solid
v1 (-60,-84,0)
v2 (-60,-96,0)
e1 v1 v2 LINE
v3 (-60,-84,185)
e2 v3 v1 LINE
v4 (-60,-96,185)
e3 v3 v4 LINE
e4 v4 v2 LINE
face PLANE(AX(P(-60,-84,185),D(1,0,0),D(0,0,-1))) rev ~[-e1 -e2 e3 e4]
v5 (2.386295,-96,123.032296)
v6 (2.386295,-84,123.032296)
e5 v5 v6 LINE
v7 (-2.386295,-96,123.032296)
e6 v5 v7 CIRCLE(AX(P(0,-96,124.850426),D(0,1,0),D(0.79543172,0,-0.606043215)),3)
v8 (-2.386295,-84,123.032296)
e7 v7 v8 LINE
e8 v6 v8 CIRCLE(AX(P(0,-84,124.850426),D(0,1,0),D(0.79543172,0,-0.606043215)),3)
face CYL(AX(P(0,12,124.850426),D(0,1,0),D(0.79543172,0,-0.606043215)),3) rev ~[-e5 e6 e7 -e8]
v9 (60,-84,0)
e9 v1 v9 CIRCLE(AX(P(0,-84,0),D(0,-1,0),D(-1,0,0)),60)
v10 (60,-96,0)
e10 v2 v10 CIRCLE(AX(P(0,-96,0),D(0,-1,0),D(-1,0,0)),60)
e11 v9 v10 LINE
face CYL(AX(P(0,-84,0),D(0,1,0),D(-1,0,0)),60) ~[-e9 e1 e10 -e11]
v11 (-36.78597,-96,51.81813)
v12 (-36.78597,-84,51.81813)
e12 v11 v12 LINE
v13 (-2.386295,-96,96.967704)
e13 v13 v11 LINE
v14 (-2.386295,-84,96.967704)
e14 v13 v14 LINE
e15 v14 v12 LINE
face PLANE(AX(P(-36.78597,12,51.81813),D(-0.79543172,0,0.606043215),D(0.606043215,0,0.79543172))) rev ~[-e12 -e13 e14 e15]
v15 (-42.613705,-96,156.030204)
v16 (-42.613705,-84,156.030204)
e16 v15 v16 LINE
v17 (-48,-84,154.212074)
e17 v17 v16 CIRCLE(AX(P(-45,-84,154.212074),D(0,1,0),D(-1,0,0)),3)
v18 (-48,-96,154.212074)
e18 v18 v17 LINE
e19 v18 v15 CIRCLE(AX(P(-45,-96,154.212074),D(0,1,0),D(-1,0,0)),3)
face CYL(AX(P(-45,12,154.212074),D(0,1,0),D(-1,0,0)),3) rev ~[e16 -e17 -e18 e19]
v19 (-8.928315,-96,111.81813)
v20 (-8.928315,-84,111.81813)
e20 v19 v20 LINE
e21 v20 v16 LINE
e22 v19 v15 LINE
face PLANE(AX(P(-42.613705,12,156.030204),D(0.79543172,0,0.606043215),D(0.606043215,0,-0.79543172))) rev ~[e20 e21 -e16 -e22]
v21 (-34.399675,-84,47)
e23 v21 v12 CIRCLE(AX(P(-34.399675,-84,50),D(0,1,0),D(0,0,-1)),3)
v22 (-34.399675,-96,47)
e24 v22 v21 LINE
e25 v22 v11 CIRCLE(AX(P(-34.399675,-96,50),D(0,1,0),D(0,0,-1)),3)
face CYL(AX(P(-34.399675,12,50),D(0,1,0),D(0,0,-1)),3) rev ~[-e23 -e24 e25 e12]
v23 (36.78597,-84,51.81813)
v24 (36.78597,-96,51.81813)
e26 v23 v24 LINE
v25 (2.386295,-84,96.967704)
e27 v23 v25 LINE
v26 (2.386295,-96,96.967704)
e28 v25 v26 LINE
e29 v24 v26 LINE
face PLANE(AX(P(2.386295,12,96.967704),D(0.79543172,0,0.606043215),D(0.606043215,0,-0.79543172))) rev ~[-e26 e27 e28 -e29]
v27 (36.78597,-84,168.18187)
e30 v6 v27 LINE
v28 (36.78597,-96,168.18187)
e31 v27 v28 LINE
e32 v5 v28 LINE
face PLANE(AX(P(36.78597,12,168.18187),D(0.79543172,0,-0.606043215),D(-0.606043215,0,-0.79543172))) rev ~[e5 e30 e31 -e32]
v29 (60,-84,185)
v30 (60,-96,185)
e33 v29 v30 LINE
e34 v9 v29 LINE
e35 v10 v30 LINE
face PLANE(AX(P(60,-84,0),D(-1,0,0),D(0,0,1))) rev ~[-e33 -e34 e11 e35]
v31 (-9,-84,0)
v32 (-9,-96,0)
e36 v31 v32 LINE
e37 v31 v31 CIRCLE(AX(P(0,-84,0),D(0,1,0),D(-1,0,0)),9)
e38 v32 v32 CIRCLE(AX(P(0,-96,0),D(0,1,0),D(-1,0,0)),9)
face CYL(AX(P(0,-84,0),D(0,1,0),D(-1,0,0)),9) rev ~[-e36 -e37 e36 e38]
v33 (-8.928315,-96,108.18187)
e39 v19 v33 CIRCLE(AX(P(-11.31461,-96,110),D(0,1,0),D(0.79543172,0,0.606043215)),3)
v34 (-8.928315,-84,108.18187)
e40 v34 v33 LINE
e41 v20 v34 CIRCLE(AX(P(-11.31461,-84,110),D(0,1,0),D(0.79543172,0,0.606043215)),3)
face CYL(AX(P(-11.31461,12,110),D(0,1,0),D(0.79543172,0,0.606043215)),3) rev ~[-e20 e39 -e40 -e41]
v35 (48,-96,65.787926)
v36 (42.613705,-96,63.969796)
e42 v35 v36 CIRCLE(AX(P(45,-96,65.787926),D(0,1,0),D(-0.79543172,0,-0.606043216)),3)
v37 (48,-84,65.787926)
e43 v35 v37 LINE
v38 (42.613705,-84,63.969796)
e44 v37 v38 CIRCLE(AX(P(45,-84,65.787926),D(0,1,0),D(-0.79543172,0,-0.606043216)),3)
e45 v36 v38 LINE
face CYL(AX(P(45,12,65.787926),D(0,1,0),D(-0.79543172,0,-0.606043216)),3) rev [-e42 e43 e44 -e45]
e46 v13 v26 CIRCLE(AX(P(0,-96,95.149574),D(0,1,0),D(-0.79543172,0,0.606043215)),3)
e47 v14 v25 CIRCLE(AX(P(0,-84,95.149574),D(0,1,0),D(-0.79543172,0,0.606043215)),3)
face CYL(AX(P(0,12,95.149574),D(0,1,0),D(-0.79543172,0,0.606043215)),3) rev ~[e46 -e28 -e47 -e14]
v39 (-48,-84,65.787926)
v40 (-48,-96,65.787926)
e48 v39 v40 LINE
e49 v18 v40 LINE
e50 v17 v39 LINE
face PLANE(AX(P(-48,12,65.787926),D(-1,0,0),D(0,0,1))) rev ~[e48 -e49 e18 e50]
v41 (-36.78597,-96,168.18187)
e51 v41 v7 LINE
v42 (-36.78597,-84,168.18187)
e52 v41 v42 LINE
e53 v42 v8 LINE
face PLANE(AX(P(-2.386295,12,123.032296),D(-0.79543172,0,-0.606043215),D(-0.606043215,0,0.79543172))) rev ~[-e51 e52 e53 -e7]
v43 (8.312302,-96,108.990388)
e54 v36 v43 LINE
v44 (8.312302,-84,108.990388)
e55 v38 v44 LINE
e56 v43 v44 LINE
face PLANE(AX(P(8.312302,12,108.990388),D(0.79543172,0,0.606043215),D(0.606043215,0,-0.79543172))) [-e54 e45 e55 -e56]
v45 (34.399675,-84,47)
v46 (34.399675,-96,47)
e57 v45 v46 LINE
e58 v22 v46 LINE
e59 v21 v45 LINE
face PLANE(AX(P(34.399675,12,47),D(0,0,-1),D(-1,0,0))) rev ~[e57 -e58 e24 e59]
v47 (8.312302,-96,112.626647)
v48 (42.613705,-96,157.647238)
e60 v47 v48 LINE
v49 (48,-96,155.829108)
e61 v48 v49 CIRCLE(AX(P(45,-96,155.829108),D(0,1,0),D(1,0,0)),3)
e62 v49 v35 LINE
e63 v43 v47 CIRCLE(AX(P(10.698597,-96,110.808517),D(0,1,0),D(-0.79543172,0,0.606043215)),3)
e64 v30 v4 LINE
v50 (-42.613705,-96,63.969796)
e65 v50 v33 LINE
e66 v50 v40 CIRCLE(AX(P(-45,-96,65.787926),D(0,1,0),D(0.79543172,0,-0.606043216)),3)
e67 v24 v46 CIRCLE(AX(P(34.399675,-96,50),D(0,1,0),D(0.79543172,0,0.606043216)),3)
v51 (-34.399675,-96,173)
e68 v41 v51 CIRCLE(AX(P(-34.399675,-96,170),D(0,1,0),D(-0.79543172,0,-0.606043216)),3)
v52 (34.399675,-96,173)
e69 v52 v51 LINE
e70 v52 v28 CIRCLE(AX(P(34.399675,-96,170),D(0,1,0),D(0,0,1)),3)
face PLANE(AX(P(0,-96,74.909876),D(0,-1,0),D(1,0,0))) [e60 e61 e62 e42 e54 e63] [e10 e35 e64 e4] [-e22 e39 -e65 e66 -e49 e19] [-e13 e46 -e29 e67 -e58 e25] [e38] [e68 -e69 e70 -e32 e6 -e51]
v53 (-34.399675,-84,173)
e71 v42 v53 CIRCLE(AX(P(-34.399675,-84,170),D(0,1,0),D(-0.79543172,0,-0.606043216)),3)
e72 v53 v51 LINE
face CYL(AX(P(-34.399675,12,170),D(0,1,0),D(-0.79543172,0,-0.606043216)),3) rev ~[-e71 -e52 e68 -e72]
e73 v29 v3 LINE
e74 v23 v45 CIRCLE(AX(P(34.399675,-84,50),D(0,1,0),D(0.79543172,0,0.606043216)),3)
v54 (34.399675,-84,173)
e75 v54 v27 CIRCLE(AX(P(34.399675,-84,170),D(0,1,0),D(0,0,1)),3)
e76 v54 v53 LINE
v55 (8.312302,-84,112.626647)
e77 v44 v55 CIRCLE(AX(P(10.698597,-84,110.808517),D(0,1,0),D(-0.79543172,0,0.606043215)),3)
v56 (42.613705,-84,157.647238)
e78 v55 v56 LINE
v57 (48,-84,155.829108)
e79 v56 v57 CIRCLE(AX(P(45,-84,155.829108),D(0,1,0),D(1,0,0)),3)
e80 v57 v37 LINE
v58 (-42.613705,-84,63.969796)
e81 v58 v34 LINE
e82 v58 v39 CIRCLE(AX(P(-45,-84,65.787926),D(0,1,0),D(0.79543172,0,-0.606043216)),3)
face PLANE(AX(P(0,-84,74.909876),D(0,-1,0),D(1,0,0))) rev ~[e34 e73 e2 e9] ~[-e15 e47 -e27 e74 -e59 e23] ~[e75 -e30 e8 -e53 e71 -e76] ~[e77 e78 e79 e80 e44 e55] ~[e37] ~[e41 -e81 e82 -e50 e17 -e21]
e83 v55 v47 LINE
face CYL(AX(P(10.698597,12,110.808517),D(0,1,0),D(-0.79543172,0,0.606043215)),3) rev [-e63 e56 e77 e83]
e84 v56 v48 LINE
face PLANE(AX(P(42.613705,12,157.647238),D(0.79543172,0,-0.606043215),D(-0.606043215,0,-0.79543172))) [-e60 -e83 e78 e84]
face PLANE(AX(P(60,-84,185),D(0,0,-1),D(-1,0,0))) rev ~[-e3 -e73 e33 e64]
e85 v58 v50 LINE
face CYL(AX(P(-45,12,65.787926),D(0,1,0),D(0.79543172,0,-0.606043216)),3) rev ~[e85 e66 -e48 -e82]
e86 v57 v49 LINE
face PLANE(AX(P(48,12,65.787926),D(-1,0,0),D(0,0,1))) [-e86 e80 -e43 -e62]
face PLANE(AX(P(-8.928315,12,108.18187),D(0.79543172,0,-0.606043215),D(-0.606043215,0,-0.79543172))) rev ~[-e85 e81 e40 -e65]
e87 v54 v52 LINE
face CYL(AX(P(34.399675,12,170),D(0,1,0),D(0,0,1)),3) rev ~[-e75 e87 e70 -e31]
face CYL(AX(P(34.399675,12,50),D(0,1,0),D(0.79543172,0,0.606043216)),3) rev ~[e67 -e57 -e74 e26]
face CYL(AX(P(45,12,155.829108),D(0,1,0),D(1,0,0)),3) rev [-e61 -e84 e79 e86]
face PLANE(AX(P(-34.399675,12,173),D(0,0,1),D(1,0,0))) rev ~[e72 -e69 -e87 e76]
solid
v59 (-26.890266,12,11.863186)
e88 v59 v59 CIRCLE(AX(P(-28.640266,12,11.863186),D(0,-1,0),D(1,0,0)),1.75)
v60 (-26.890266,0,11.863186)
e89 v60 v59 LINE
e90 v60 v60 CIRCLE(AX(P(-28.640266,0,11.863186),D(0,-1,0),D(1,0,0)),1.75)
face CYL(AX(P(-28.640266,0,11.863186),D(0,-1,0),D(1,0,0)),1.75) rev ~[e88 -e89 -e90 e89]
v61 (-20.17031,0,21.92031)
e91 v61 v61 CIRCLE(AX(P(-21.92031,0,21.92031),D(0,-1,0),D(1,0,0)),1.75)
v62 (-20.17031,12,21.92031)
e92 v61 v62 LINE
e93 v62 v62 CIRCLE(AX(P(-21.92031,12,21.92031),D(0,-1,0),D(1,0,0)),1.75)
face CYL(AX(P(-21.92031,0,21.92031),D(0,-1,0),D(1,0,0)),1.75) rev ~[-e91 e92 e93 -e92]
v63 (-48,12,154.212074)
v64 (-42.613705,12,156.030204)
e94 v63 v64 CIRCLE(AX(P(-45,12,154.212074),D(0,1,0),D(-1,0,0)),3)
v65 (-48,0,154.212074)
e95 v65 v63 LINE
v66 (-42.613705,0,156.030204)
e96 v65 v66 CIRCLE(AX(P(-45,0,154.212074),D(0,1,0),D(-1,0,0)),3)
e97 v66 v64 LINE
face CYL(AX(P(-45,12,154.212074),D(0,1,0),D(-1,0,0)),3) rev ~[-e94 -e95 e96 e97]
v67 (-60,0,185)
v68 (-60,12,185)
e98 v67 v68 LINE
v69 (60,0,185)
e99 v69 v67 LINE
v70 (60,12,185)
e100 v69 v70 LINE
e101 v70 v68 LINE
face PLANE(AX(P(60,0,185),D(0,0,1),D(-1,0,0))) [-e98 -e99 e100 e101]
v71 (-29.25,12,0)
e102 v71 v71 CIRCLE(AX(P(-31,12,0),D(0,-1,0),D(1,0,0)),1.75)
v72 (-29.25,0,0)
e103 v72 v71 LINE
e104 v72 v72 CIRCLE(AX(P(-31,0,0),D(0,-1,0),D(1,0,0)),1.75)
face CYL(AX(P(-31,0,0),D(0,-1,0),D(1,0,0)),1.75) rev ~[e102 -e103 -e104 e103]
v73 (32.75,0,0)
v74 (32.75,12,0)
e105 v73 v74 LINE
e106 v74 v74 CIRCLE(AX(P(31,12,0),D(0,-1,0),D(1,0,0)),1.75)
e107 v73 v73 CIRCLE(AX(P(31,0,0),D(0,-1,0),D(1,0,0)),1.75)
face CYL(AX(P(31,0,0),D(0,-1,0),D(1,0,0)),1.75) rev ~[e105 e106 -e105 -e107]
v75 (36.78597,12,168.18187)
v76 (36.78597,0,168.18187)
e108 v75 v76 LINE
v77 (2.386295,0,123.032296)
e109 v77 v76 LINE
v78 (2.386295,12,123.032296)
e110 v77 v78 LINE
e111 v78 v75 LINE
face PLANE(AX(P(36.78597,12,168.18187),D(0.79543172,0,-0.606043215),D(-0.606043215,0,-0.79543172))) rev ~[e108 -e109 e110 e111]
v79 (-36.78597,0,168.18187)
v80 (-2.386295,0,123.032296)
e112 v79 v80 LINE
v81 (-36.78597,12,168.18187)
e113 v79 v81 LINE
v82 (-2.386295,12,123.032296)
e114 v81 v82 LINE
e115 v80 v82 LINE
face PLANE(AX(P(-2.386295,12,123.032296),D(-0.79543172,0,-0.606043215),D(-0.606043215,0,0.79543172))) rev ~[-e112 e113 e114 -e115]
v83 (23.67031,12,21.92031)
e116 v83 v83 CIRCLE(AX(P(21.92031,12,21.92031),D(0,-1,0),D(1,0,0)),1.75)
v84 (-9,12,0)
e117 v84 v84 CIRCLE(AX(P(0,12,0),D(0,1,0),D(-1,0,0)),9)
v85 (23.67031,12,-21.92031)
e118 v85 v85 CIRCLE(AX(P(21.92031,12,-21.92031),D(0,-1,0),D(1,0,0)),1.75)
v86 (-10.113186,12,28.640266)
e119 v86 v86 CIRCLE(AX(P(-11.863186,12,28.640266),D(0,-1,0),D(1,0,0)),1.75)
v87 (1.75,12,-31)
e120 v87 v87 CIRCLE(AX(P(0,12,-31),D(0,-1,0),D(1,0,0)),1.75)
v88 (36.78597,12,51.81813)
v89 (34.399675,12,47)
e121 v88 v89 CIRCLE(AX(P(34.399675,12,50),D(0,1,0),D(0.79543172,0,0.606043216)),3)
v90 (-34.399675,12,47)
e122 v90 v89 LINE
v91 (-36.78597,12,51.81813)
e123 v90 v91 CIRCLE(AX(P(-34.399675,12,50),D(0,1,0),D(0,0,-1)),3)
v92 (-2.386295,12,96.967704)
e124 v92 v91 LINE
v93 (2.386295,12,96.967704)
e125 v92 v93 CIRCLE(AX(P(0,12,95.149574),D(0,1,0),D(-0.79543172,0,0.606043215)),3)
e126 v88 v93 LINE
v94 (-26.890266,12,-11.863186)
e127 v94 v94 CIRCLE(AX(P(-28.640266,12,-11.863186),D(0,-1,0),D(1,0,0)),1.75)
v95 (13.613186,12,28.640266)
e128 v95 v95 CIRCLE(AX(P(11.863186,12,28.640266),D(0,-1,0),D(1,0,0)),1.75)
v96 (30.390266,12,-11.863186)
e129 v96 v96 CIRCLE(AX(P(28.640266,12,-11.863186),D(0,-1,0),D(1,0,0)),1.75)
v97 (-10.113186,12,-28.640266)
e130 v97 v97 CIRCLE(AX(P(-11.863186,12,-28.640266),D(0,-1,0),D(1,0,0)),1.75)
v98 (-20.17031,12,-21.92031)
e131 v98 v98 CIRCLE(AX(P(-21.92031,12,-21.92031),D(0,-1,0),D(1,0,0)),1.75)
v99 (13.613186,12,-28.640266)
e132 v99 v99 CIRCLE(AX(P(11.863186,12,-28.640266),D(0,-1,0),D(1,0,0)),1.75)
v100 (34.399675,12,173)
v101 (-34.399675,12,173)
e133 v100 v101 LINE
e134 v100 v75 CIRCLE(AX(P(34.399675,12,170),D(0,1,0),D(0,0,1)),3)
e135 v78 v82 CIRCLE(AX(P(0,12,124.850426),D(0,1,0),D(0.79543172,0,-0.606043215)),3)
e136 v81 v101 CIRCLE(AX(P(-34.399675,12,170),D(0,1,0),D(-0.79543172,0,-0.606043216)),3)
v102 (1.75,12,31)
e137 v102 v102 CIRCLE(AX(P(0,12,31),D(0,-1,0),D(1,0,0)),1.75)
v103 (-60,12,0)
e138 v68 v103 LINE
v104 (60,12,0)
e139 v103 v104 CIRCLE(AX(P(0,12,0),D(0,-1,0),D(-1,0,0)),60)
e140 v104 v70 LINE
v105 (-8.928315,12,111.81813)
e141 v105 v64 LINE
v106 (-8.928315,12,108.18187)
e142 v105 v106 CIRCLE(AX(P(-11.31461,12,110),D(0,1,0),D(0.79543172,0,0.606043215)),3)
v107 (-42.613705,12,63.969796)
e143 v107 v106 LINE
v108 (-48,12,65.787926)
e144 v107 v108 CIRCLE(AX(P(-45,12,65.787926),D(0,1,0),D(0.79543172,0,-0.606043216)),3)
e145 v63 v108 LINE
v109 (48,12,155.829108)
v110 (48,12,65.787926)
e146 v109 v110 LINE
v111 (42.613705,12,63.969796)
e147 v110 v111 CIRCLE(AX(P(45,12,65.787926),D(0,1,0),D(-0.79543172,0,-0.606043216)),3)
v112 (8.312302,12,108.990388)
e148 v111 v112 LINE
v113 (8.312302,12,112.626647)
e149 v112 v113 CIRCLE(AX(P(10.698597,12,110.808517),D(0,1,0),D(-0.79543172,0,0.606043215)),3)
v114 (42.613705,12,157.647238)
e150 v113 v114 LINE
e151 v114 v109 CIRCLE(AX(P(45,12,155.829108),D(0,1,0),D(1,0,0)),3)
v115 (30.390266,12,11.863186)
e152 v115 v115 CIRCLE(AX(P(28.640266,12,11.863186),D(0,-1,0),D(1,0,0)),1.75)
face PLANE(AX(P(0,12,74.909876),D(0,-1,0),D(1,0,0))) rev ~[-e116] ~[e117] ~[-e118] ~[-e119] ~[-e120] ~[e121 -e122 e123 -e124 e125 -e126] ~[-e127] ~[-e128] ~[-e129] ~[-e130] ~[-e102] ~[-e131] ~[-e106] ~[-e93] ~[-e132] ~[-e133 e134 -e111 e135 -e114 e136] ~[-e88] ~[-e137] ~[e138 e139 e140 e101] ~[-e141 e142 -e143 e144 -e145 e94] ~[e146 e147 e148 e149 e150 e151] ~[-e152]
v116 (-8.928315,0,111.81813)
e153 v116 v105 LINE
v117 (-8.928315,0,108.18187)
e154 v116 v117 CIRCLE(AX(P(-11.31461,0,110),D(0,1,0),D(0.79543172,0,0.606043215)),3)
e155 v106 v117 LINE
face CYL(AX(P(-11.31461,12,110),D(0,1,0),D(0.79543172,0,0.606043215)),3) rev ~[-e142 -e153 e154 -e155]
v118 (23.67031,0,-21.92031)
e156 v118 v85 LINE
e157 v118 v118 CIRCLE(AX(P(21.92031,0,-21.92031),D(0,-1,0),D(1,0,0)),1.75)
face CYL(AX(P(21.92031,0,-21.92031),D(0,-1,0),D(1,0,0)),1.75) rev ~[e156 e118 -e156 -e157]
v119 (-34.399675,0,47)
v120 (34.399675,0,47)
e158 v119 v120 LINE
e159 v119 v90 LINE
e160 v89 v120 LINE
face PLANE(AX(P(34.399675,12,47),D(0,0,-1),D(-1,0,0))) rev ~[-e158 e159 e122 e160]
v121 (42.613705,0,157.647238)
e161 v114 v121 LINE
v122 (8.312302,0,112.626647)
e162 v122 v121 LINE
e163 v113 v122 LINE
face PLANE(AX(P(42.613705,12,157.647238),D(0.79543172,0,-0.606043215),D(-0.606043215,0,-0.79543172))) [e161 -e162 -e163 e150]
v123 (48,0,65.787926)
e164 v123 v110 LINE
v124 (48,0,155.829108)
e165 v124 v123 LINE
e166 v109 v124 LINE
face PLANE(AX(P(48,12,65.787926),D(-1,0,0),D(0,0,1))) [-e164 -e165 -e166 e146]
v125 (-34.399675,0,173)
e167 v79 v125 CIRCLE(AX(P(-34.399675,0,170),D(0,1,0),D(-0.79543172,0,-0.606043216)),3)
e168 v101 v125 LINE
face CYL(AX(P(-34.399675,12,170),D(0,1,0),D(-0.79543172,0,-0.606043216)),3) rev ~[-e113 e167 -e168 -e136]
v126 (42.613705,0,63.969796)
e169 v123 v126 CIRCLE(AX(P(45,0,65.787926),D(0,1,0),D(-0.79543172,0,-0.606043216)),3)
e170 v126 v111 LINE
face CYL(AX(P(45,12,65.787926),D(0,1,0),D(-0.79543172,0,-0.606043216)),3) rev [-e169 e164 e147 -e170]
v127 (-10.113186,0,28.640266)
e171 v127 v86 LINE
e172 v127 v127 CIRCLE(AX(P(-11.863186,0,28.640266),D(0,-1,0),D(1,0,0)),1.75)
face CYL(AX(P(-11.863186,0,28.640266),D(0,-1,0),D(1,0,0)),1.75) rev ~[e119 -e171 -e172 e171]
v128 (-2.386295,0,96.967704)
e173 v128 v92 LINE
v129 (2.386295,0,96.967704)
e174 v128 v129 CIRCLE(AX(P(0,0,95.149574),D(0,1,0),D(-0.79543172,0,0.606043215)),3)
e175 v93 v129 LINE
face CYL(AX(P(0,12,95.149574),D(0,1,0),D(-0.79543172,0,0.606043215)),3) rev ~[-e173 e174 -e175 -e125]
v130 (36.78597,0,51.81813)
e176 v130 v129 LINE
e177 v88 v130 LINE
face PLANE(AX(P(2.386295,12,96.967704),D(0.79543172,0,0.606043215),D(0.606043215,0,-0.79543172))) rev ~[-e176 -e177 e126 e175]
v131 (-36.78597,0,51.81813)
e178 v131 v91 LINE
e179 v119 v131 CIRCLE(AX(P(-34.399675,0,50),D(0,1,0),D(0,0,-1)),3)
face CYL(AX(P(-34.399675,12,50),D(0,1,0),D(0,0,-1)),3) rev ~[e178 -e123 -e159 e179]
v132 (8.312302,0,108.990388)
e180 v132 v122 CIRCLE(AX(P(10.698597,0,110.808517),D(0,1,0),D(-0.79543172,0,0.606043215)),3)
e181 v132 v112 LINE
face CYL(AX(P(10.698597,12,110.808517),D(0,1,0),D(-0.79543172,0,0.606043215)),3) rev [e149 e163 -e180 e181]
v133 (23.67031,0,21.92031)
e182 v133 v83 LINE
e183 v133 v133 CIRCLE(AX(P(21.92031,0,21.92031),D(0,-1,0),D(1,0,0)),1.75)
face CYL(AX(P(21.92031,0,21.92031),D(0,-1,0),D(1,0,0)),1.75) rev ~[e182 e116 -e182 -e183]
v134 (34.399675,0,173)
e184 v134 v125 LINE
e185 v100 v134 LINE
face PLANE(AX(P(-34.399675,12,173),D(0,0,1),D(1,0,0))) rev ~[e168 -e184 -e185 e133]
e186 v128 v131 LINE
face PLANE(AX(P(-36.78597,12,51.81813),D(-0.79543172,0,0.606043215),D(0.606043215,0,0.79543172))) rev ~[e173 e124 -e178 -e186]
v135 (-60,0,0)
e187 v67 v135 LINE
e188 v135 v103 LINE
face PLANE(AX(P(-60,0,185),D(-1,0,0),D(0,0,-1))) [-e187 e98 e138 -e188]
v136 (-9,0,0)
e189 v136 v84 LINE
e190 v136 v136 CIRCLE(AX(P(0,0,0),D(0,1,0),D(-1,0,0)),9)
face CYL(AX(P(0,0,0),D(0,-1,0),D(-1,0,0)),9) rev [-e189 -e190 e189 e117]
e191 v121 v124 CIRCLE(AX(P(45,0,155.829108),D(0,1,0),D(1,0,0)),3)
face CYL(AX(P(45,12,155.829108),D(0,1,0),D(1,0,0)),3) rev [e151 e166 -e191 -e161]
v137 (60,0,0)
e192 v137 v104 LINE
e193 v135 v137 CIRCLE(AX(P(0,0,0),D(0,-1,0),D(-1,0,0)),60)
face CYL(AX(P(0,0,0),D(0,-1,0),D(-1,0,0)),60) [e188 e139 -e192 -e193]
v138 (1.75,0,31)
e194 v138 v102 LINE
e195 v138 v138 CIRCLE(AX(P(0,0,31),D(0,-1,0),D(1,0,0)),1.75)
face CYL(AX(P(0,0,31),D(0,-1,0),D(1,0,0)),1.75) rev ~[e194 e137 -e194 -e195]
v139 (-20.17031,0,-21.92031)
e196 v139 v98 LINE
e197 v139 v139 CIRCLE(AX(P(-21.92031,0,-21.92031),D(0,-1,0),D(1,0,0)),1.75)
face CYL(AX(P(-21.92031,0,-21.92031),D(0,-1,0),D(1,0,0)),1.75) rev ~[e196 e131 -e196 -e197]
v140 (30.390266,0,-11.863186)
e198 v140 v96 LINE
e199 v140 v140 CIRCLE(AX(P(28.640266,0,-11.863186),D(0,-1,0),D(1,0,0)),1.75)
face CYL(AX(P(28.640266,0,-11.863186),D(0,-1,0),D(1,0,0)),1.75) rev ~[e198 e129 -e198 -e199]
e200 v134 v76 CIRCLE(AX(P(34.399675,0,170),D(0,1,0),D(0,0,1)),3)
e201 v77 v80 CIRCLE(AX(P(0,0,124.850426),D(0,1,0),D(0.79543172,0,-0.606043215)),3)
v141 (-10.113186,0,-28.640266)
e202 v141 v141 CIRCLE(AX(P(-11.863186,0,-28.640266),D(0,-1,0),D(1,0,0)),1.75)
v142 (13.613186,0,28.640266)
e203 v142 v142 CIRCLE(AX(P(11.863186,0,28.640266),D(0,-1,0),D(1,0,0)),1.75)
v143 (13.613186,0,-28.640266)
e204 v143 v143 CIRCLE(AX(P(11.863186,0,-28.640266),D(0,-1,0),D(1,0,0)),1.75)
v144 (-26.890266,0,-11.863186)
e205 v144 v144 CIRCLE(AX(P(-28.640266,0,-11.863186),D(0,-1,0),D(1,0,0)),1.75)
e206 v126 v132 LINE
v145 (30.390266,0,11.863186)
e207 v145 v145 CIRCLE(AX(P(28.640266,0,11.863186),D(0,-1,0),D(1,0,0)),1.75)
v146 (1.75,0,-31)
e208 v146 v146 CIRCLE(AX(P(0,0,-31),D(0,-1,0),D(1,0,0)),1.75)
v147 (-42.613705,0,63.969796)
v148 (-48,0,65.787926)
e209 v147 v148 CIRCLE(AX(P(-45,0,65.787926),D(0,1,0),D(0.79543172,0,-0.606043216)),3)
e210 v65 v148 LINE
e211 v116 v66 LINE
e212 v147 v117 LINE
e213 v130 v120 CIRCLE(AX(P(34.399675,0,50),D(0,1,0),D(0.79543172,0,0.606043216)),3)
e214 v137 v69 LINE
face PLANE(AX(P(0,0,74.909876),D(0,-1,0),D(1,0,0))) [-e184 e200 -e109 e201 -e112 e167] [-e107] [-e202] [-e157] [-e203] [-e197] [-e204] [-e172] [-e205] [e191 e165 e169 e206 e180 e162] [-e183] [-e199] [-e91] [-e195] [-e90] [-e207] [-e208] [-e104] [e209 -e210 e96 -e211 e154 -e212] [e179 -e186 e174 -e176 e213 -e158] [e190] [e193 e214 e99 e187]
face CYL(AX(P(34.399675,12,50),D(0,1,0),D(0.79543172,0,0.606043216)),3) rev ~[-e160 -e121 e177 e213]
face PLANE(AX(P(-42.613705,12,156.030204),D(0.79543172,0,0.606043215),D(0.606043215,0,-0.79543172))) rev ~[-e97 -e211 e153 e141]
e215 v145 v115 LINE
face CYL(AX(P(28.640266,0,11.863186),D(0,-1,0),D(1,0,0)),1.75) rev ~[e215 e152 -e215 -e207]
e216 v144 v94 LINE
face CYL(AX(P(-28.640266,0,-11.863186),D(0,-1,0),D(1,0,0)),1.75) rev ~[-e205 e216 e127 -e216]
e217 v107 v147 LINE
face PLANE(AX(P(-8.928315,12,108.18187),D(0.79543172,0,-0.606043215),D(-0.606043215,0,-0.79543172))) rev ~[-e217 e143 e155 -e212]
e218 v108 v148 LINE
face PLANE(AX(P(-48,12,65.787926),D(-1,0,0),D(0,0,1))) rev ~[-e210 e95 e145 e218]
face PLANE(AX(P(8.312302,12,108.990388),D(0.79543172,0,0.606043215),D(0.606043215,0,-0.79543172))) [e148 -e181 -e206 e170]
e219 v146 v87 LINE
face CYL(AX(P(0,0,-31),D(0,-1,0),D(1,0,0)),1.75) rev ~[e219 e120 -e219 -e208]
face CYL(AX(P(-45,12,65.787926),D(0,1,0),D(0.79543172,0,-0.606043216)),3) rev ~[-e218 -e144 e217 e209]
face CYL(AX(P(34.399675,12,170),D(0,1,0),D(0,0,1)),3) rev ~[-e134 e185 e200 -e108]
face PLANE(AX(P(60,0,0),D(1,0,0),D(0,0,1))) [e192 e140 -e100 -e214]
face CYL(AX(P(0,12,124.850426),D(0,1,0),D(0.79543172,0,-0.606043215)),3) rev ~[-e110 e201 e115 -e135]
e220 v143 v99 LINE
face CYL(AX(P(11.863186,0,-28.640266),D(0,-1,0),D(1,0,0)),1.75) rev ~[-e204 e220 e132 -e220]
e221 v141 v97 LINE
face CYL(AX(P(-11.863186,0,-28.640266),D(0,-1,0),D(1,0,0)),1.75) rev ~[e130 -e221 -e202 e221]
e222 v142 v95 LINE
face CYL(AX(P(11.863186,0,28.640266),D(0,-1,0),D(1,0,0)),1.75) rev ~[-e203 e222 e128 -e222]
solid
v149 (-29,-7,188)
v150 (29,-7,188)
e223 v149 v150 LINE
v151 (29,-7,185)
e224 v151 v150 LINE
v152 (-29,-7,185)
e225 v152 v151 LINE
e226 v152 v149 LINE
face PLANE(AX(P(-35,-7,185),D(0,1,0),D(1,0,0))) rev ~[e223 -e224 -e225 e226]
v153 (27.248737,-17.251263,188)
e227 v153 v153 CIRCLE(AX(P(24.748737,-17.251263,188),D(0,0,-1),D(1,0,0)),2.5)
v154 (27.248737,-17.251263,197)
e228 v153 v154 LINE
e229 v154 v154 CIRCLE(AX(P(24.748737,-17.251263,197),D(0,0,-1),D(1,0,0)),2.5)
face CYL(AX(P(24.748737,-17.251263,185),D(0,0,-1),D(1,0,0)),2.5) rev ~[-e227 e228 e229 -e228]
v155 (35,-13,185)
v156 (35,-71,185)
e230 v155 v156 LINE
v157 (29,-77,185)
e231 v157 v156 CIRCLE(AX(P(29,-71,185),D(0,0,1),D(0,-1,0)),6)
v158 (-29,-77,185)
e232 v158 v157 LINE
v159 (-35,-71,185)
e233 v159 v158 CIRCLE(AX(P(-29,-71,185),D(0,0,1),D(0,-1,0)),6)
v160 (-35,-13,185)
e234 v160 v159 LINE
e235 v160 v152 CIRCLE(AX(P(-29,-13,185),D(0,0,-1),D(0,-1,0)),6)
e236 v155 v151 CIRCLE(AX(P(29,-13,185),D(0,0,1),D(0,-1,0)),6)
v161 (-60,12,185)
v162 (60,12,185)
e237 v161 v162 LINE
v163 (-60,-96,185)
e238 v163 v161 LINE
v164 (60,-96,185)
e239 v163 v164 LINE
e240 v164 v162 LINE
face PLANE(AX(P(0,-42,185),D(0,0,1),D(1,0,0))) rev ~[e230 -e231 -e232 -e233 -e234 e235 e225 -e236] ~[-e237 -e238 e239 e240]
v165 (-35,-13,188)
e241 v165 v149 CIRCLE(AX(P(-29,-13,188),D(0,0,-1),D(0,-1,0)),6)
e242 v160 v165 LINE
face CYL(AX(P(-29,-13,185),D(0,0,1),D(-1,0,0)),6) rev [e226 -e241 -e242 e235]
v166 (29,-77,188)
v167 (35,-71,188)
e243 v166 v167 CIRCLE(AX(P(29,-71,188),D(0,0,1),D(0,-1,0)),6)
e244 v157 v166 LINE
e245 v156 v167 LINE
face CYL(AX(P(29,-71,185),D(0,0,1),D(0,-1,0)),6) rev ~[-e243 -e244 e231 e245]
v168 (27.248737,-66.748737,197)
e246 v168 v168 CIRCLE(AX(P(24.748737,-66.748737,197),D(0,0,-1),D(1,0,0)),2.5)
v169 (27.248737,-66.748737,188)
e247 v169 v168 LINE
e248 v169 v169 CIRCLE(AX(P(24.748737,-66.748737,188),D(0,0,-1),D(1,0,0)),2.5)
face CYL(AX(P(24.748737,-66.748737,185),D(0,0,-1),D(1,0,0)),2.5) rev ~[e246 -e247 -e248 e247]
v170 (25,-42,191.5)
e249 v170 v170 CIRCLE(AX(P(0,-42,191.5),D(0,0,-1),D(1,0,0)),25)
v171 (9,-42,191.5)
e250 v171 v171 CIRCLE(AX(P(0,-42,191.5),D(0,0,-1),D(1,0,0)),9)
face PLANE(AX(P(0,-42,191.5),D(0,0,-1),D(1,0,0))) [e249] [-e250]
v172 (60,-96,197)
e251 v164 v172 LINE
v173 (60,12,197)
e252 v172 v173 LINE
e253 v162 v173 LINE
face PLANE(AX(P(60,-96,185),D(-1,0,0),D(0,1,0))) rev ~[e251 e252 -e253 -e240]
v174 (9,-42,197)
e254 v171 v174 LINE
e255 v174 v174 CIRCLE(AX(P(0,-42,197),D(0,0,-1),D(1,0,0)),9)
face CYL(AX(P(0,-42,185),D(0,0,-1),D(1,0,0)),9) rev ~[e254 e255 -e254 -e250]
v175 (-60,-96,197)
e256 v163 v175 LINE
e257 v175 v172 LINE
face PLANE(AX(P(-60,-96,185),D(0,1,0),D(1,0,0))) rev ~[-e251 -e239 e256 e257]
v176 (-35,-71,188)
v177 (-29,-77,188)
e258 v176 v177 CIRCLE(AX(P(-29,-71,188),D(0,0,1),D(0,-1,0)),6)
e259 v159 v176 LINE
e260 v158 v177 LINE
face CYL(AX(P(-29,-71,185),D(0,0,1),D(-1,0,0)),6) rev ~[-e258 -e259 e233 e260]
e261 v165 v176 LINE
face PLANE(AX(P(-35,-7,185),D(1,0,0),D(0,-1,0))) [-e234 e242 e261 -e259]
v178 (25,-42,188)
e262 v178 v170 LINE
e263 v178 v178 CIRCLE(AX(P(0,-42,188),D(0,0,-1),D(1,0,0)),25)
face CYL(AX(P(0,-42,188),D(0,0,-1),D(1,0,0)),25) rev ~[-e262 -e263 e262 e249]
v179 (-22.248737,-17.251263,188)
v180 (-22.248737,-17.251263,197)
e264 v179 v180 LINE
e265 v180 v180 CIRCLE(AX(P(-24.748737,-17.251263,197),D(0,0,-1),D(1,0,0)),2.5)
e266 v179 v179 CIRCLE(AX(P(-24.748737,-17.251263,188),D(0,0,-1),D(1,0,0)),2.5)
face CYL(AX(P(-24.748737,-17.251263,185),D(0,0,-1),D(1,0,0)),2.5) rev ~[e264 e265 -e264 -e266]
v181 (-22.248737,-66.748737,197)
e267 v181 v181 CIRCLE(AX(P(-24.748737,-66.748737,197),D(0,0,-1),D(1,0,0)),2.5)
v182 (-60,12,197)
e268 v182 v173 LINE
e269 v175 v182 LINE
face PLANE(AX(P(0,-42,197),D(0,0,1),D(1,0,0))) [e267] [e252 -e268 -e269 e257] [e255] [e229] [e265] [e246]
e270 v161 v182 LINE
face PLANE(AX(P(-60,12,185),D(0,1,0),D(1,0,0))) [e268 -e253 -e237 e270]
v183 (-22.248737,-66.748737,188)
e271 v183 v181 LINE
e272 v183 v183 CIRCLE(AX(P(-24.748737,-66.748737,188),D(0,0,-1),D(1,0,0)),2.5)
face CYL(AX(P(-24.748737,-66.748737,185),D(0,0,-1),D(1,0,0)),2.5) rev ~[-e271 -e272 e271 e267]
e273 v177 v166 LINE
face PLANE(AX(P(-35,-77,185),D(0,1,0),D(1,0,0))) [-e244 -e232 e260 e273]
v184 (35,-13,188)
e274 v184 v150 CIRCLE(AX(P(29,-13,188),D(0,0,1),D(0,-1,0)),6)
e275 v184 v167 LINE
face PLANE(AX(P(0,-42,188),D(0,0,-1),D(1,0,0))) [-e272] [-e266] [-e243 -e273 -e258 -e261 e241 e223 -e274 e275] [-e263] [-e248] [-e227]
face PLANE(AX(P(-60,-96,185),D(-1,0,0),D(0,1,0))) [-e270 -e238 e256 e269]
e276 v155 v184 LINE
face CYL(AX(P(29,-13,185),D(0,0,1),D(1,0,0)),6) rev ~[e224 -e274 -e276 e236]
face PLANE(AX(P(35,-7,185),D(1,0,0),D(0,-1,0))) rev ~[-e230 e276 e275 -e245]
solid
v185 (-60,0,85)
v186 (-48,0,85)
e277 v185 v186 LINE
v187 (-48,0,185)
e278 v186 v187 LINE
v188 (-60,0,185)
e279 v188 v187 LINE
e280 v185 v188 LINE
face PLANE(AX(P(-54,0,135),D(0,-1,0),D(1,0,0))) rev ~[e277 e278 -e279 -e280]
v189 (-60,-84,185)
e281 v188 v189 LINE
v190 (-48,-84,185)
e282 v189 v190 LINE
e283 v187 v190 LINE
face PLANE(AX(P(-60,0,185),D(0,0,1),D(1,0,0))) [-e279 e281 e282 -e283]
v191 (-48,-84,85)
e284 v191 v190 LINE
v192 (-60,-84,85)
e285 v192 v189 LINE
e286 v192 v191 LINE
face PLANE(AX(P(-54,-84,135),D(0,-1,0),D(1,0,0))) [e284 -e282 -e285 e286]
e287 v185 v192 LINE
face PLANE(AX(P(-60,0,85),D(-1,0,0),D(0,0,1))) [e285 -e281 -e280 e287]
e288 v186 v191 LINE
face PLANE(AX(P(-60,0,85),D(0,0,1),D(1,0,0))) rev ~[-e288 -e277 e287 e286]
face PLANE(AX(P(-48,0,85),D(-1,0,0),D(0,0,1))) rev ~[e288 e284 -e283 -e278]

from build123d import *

# Parameters (mm, degrees)
SKETCH1_R               = 9
BOSS_EXTRUDE1_DEPTH     = 12
SKETCH2_R               = 1.75
CUT_EXTRUDE1_DEPTH      = 12
SKETCH3_W               = 12
SKETCH3_H               = 100
SS_DEPTH                = 84
BOSS_EXTRUDE3_START     = -84
SKETCH1_3_R             = 9
BOSS_EXTRUDE3_DEPTH     = 12
SKETCH4_W               = 120
SKETCH4_H               = 108
BOSS_EXTRUDE4_DEPTH     = 12
SKETCH5_R               = 9
SKETCH5_R_2             = 2.5
CUT_EXTRUDE2_DEPTH      = 246
CUT_EXTRUDE2_DEPTH_BACK = 13
SKETCH5_3_W             = 70
SKETCH5_3_H             = 70
CUT_EXTRUDE3_DEPTH      = 3
CUT_EXTRUDE4_START      = -3
SKETCH5_4_R             = 25
CUT_EXTRUDE4_DEPTH      = 3.5
FILLET1_R               = 6
CUT_EXTRUDE5_DEPTH      = 1
CUT_EXTRUDE5_DEPTH_BACK = 109


with BuildPart() as part:
    # Sketch1 → Boss-Extrude1 (new body)
    with BuildSketch(Plane(origin=(0, 0, 0), x_dir=(-1, 0, 0), z_dir=(0, 1, 0))):
        with BuildLine():
            Line((-60, 0), (-60, 185))
            Line((-60, 185), (60, 185))
            Line((60, 185), (60, 0))
            ThreePointArc((60, 0), (0, -60), (-60, 0))
        make_face()
        Circle(SKETCH1_R, mode=Mode.SUBTRACT)
    extrude(amount=BOSS_EXTRUDE1_DEPTH)

    # Sketch2 → Cut-Extrude1 (cut)
    with BuildSketch(Plane.XZ):
        with Locations((0, 31)):
            Circle(SKETCH2_R)
        with Locations((11.863186403, 28.640265508)):
            Circle(SKETCH2_R)
        with Locations((21.920310217, 21.920310217)):
            Circle(SKETCH2_R)
        with Locations((28.640265508, 11.863186403)):
            Circle(SKETCH2_R)
        with Locations((31, 0)):
            Circle(SKETCH2_R)
        with Locations((28.640265508, -11.863186403)):
            Circle(SKETCH2_R)
        with Locations((21.920310217, -21.920310217)):
            Circle(SKETCH2_R)
        with Locations((11.863186403, -28.640265508)):
            Circle(SKETCH2_R)
        with Locations((0, -31)):
            Circle(SKETCH2_R)
        with Locations((-11.863186403, -28.640265508)):
            Circle(SKETCH2_R)
        with Locations((-21.920310217, -21.920310217)):
            Circle(SKETCH2_R)
        with Locations((-28.640265508, -11.863186403)):
            Circle(SKETCH2_R)
        with Locations((-31, 0)):
            Circle(SKETCH2_R)
        with Locations((-28.640265508, 11.863186403)):
            Circle(SKETCH2_R)
        with Locations((-21.920310217, 21.920310217)):
            Circle(SKETCH2_R)
        with Locations((-11.863186403, 28.640265508)):
            Circle(SKETCH2_R)
    extrude(amount=-CUT_EXTRUDE1_DEPTH, mode=Mode.SUBTRACT)


with BuildPart() as body_2:
    # Sketch3 → ss (new body)
    with BuildSketch(Plane.XZ):
        with Locations((-54, 135)):
            Rectangle(SKETCH3_W, SKETCH3_H)
    extrude(amount=SS_DEPTH)


with BuildPart() as body_3:
    # Sketch1<3> → Boss-Extrude3 (new body)
    with BuildSketch(Plane(origin=(0, 0, 0), x_dir=(-1, 0, 0), z_dir=(0, 1, 0)).offset(BOSS_EXTRUDE3_START)):
        with BuildLine():
            Line((-60, 0), (-60, 185))
            Line((-60, 185), (60, 185))
            Line((60, 185), (60, 0))
            ThreePointArc((60, 0), (0, -60), (-60, 0))
        make_face()
        Circle(SKETCH1_3_R, mode=Mode.SUBTRACT)
    extrude(amount=-BOSS_EXTRUDE3_DEPTH)


with BuildPart() as body_4:
    # Sketch4 → Boss-Extrude4 (new body)
    with BuildSketch(Plane.XY.offset(185)):
        with Locations((0, -42)):
            Rectangle(SKETCH4_W, SKETCH4_H)
    extrude(amount=BOSS_EXTRUDE4_DEPTH)

    # Sketch5 → Cut-Extrude2 (cut, two sides)
    with BuildSketch(Plane(origin=(0, 0, 185), x_dir=(1, 0, 0), z_dir=(0, 0, -1))) as cut_extrude2_sk:
        with Locations((0, 42)):
            Circle(SKETCH5_R)
        with Locations((-24.748737342, 66.748737342)):
            Circle(SKETCH5_R_2)
        with Locations((24.748737342, 66.748737342)):
            Circle(SKETCH5_R_2)
        with Locations((24.748737342, 17.251262658)):
            Circle(SKETCH5_R_2)
        with Locations((-24.748737342, 17.251262658)):
            Circle(SKETCH5_R_2)
    extrude(amount=CUT_EXTRUDE2_DEPTH, mode=Mode.SUBTRACT)
    extrude(cut_extrude2_sk.sketch, amount=-CUT_EXTRUDE2_DEPTH_BACK, mode=Mode.SUBTRACT)

    # Sketch5<3> → Cut-Extrude3 (cut)
    with BuildSketch(Plane(origin=(0, 0, 185), x_dir=(1, 0, 0), z_dir=(0, 0, -1))):
        with Locations((0, 42)):
            Rectangle(SKETCH5_3_W, SKETCH5_3_H)
    extrude(amount=-CUT_EXTRUDE3_DEPTH, mode=Mode.SUBTRACT)

    # Sketch5<4> → Cut-Extrude4 (cut)
    with BuildSketch(Plane(origin=(0, 0, 185), x_dir=(1, 0, 0), z_dir=(0, 0, -1)).offset(CUT_EXTRUDE4_START)):
        with Locations((0, 42)):
            Circle(SKETCH5_4_R)
    extrude(amount=-CUT_EXTRUDE4_DEPTH, mode=Mode.SUBTRACT)

    # Fillet1
    fillet1_edges = [body_4.edges().sort_by_distance(p)[0] for p in [
        (-35, -7, 186.5),
        (-35, -77, 186.5),
        (35, -77, 186.5),
        (35, -7, 186.5),
    ]]
    fillet(fillet1_edges, radius=FILLET1_R)


with BuildPart() as cut_extrude5_tool:
    # Sketch6 → Cut-Extrude5 (new body, two sides)
    with BuildSketch(Plane(origin=(0, 12, 0), x_dir=(1, 0, 0), z_dir=(0, 1, 0))) as cut_extrude5_sk:
        with BuildLine():
            Line((36.785970489, -168.181870354), (2.38629516, -123.032296484))
            ThreePointArc((2.38629516, -123.032296484), (0, -121.85042613), (-2.38629516, -123.032296484))
            Line((-2.38629516, -123.032296484), (-36.785970489, -168.181870354))
            ThreePointArc((-36.785970489, -168.181870354), (-37.088019517, -171.331467435), (-34.399675329, -173))
            Line((-34.399675329, -173), (34.399675329, -173))
            ThreePointArc((34.399675329, -173), (37.088019517, -171.331467435), (36.785970489, -168.181870354))
        make_face()
        with BuildLine():
            Line((34.399675329, -47), (-34.399675329, -47))
            ThreePointArc((-34.399675329, -47), (-37.088019517, -48.668532565), (-36.785970489, -51.818129646))
            Line((-36.785970489, -51.818129646), (-2.38629516, -96.967703516))
            ThreePointArc((-2.38629516, -96.967703516), (0, -98.14957387), (2.38629516, -96.967703516))
            Line((2.38629516, -96.967703516), (36.785970489, -51.818129646))
            ThreePointArc((36.785970489, -51.818129646), (37.088019517, -48.668532565), (34.399675329, -47))
        make_face()
        with BuildLine():
            Line((48, -65.78792613), (48, -155.829108344))
            ThreePointArc((48, -155.829108344), (45.959456752, -158.671544402), (42.61370484, -157.64723799))
            Line((42.61370484, -157.64723799), (8.312302092, -112.626646883))
            ThreePointArc((8.312302092, -112.626646883), (7.698597252, -110.808517237), (8.312302092, -108.990387591))
            Line((8.312302092, -108.990387591), (42.61370484, -63.969796484))
            ThreePointArc((42.61370484, -63.969796484), (45.959456752, -62.945490073), (48, -65.78792613))
        make_face()
        with BuildLine():
            Line((-48, -65.78792613), (-48, -154.21207387))
            ThreePointArc((-48, -154.21207387), (-45.959456752, -157.054509927), (-42.61370484, -156.030203516))
            Line((-42.61370484, -156.030203516), (-8.928315225, -111.818129646))
            ThreePointArc((-8.928315225, -111.818129646), (-8.314610385, -110), (-8.928315225, -108.181870354))
            Line((-8.928315225, -108.181870354), (-42.61370484, -63.969796484))
            ThreePointArc((-42.61370484, -63.969796484), (-45.959456752, -62.945490073), (-48, -65.78792613))
        make_face()
    extrude(amount=CUT_EXTRUDE5_DEPTH)
    extrude(cut_extrude5_sk.sketch, amount=-CUT_EXTRUDE5_DEPTH_BACK)


with BuildPart() as part_1:
    add(part.part)

    # Cut-Extrude5: cut by cut_extrude5_tool
    add(cut_extrude5_tool.part, mode=Mode.SUBTRACT)


with BuildPart() as body_3_1:
    add(body_3.part)

    # Cut-Extrude5: cut by cut_extrude5_tool
    add(cut_extrude5_tool.part, mode=Mode.SUBTRACT)


solid = Compound([body_2.part, body_4.part, part_1.part, body_3_1.part])
